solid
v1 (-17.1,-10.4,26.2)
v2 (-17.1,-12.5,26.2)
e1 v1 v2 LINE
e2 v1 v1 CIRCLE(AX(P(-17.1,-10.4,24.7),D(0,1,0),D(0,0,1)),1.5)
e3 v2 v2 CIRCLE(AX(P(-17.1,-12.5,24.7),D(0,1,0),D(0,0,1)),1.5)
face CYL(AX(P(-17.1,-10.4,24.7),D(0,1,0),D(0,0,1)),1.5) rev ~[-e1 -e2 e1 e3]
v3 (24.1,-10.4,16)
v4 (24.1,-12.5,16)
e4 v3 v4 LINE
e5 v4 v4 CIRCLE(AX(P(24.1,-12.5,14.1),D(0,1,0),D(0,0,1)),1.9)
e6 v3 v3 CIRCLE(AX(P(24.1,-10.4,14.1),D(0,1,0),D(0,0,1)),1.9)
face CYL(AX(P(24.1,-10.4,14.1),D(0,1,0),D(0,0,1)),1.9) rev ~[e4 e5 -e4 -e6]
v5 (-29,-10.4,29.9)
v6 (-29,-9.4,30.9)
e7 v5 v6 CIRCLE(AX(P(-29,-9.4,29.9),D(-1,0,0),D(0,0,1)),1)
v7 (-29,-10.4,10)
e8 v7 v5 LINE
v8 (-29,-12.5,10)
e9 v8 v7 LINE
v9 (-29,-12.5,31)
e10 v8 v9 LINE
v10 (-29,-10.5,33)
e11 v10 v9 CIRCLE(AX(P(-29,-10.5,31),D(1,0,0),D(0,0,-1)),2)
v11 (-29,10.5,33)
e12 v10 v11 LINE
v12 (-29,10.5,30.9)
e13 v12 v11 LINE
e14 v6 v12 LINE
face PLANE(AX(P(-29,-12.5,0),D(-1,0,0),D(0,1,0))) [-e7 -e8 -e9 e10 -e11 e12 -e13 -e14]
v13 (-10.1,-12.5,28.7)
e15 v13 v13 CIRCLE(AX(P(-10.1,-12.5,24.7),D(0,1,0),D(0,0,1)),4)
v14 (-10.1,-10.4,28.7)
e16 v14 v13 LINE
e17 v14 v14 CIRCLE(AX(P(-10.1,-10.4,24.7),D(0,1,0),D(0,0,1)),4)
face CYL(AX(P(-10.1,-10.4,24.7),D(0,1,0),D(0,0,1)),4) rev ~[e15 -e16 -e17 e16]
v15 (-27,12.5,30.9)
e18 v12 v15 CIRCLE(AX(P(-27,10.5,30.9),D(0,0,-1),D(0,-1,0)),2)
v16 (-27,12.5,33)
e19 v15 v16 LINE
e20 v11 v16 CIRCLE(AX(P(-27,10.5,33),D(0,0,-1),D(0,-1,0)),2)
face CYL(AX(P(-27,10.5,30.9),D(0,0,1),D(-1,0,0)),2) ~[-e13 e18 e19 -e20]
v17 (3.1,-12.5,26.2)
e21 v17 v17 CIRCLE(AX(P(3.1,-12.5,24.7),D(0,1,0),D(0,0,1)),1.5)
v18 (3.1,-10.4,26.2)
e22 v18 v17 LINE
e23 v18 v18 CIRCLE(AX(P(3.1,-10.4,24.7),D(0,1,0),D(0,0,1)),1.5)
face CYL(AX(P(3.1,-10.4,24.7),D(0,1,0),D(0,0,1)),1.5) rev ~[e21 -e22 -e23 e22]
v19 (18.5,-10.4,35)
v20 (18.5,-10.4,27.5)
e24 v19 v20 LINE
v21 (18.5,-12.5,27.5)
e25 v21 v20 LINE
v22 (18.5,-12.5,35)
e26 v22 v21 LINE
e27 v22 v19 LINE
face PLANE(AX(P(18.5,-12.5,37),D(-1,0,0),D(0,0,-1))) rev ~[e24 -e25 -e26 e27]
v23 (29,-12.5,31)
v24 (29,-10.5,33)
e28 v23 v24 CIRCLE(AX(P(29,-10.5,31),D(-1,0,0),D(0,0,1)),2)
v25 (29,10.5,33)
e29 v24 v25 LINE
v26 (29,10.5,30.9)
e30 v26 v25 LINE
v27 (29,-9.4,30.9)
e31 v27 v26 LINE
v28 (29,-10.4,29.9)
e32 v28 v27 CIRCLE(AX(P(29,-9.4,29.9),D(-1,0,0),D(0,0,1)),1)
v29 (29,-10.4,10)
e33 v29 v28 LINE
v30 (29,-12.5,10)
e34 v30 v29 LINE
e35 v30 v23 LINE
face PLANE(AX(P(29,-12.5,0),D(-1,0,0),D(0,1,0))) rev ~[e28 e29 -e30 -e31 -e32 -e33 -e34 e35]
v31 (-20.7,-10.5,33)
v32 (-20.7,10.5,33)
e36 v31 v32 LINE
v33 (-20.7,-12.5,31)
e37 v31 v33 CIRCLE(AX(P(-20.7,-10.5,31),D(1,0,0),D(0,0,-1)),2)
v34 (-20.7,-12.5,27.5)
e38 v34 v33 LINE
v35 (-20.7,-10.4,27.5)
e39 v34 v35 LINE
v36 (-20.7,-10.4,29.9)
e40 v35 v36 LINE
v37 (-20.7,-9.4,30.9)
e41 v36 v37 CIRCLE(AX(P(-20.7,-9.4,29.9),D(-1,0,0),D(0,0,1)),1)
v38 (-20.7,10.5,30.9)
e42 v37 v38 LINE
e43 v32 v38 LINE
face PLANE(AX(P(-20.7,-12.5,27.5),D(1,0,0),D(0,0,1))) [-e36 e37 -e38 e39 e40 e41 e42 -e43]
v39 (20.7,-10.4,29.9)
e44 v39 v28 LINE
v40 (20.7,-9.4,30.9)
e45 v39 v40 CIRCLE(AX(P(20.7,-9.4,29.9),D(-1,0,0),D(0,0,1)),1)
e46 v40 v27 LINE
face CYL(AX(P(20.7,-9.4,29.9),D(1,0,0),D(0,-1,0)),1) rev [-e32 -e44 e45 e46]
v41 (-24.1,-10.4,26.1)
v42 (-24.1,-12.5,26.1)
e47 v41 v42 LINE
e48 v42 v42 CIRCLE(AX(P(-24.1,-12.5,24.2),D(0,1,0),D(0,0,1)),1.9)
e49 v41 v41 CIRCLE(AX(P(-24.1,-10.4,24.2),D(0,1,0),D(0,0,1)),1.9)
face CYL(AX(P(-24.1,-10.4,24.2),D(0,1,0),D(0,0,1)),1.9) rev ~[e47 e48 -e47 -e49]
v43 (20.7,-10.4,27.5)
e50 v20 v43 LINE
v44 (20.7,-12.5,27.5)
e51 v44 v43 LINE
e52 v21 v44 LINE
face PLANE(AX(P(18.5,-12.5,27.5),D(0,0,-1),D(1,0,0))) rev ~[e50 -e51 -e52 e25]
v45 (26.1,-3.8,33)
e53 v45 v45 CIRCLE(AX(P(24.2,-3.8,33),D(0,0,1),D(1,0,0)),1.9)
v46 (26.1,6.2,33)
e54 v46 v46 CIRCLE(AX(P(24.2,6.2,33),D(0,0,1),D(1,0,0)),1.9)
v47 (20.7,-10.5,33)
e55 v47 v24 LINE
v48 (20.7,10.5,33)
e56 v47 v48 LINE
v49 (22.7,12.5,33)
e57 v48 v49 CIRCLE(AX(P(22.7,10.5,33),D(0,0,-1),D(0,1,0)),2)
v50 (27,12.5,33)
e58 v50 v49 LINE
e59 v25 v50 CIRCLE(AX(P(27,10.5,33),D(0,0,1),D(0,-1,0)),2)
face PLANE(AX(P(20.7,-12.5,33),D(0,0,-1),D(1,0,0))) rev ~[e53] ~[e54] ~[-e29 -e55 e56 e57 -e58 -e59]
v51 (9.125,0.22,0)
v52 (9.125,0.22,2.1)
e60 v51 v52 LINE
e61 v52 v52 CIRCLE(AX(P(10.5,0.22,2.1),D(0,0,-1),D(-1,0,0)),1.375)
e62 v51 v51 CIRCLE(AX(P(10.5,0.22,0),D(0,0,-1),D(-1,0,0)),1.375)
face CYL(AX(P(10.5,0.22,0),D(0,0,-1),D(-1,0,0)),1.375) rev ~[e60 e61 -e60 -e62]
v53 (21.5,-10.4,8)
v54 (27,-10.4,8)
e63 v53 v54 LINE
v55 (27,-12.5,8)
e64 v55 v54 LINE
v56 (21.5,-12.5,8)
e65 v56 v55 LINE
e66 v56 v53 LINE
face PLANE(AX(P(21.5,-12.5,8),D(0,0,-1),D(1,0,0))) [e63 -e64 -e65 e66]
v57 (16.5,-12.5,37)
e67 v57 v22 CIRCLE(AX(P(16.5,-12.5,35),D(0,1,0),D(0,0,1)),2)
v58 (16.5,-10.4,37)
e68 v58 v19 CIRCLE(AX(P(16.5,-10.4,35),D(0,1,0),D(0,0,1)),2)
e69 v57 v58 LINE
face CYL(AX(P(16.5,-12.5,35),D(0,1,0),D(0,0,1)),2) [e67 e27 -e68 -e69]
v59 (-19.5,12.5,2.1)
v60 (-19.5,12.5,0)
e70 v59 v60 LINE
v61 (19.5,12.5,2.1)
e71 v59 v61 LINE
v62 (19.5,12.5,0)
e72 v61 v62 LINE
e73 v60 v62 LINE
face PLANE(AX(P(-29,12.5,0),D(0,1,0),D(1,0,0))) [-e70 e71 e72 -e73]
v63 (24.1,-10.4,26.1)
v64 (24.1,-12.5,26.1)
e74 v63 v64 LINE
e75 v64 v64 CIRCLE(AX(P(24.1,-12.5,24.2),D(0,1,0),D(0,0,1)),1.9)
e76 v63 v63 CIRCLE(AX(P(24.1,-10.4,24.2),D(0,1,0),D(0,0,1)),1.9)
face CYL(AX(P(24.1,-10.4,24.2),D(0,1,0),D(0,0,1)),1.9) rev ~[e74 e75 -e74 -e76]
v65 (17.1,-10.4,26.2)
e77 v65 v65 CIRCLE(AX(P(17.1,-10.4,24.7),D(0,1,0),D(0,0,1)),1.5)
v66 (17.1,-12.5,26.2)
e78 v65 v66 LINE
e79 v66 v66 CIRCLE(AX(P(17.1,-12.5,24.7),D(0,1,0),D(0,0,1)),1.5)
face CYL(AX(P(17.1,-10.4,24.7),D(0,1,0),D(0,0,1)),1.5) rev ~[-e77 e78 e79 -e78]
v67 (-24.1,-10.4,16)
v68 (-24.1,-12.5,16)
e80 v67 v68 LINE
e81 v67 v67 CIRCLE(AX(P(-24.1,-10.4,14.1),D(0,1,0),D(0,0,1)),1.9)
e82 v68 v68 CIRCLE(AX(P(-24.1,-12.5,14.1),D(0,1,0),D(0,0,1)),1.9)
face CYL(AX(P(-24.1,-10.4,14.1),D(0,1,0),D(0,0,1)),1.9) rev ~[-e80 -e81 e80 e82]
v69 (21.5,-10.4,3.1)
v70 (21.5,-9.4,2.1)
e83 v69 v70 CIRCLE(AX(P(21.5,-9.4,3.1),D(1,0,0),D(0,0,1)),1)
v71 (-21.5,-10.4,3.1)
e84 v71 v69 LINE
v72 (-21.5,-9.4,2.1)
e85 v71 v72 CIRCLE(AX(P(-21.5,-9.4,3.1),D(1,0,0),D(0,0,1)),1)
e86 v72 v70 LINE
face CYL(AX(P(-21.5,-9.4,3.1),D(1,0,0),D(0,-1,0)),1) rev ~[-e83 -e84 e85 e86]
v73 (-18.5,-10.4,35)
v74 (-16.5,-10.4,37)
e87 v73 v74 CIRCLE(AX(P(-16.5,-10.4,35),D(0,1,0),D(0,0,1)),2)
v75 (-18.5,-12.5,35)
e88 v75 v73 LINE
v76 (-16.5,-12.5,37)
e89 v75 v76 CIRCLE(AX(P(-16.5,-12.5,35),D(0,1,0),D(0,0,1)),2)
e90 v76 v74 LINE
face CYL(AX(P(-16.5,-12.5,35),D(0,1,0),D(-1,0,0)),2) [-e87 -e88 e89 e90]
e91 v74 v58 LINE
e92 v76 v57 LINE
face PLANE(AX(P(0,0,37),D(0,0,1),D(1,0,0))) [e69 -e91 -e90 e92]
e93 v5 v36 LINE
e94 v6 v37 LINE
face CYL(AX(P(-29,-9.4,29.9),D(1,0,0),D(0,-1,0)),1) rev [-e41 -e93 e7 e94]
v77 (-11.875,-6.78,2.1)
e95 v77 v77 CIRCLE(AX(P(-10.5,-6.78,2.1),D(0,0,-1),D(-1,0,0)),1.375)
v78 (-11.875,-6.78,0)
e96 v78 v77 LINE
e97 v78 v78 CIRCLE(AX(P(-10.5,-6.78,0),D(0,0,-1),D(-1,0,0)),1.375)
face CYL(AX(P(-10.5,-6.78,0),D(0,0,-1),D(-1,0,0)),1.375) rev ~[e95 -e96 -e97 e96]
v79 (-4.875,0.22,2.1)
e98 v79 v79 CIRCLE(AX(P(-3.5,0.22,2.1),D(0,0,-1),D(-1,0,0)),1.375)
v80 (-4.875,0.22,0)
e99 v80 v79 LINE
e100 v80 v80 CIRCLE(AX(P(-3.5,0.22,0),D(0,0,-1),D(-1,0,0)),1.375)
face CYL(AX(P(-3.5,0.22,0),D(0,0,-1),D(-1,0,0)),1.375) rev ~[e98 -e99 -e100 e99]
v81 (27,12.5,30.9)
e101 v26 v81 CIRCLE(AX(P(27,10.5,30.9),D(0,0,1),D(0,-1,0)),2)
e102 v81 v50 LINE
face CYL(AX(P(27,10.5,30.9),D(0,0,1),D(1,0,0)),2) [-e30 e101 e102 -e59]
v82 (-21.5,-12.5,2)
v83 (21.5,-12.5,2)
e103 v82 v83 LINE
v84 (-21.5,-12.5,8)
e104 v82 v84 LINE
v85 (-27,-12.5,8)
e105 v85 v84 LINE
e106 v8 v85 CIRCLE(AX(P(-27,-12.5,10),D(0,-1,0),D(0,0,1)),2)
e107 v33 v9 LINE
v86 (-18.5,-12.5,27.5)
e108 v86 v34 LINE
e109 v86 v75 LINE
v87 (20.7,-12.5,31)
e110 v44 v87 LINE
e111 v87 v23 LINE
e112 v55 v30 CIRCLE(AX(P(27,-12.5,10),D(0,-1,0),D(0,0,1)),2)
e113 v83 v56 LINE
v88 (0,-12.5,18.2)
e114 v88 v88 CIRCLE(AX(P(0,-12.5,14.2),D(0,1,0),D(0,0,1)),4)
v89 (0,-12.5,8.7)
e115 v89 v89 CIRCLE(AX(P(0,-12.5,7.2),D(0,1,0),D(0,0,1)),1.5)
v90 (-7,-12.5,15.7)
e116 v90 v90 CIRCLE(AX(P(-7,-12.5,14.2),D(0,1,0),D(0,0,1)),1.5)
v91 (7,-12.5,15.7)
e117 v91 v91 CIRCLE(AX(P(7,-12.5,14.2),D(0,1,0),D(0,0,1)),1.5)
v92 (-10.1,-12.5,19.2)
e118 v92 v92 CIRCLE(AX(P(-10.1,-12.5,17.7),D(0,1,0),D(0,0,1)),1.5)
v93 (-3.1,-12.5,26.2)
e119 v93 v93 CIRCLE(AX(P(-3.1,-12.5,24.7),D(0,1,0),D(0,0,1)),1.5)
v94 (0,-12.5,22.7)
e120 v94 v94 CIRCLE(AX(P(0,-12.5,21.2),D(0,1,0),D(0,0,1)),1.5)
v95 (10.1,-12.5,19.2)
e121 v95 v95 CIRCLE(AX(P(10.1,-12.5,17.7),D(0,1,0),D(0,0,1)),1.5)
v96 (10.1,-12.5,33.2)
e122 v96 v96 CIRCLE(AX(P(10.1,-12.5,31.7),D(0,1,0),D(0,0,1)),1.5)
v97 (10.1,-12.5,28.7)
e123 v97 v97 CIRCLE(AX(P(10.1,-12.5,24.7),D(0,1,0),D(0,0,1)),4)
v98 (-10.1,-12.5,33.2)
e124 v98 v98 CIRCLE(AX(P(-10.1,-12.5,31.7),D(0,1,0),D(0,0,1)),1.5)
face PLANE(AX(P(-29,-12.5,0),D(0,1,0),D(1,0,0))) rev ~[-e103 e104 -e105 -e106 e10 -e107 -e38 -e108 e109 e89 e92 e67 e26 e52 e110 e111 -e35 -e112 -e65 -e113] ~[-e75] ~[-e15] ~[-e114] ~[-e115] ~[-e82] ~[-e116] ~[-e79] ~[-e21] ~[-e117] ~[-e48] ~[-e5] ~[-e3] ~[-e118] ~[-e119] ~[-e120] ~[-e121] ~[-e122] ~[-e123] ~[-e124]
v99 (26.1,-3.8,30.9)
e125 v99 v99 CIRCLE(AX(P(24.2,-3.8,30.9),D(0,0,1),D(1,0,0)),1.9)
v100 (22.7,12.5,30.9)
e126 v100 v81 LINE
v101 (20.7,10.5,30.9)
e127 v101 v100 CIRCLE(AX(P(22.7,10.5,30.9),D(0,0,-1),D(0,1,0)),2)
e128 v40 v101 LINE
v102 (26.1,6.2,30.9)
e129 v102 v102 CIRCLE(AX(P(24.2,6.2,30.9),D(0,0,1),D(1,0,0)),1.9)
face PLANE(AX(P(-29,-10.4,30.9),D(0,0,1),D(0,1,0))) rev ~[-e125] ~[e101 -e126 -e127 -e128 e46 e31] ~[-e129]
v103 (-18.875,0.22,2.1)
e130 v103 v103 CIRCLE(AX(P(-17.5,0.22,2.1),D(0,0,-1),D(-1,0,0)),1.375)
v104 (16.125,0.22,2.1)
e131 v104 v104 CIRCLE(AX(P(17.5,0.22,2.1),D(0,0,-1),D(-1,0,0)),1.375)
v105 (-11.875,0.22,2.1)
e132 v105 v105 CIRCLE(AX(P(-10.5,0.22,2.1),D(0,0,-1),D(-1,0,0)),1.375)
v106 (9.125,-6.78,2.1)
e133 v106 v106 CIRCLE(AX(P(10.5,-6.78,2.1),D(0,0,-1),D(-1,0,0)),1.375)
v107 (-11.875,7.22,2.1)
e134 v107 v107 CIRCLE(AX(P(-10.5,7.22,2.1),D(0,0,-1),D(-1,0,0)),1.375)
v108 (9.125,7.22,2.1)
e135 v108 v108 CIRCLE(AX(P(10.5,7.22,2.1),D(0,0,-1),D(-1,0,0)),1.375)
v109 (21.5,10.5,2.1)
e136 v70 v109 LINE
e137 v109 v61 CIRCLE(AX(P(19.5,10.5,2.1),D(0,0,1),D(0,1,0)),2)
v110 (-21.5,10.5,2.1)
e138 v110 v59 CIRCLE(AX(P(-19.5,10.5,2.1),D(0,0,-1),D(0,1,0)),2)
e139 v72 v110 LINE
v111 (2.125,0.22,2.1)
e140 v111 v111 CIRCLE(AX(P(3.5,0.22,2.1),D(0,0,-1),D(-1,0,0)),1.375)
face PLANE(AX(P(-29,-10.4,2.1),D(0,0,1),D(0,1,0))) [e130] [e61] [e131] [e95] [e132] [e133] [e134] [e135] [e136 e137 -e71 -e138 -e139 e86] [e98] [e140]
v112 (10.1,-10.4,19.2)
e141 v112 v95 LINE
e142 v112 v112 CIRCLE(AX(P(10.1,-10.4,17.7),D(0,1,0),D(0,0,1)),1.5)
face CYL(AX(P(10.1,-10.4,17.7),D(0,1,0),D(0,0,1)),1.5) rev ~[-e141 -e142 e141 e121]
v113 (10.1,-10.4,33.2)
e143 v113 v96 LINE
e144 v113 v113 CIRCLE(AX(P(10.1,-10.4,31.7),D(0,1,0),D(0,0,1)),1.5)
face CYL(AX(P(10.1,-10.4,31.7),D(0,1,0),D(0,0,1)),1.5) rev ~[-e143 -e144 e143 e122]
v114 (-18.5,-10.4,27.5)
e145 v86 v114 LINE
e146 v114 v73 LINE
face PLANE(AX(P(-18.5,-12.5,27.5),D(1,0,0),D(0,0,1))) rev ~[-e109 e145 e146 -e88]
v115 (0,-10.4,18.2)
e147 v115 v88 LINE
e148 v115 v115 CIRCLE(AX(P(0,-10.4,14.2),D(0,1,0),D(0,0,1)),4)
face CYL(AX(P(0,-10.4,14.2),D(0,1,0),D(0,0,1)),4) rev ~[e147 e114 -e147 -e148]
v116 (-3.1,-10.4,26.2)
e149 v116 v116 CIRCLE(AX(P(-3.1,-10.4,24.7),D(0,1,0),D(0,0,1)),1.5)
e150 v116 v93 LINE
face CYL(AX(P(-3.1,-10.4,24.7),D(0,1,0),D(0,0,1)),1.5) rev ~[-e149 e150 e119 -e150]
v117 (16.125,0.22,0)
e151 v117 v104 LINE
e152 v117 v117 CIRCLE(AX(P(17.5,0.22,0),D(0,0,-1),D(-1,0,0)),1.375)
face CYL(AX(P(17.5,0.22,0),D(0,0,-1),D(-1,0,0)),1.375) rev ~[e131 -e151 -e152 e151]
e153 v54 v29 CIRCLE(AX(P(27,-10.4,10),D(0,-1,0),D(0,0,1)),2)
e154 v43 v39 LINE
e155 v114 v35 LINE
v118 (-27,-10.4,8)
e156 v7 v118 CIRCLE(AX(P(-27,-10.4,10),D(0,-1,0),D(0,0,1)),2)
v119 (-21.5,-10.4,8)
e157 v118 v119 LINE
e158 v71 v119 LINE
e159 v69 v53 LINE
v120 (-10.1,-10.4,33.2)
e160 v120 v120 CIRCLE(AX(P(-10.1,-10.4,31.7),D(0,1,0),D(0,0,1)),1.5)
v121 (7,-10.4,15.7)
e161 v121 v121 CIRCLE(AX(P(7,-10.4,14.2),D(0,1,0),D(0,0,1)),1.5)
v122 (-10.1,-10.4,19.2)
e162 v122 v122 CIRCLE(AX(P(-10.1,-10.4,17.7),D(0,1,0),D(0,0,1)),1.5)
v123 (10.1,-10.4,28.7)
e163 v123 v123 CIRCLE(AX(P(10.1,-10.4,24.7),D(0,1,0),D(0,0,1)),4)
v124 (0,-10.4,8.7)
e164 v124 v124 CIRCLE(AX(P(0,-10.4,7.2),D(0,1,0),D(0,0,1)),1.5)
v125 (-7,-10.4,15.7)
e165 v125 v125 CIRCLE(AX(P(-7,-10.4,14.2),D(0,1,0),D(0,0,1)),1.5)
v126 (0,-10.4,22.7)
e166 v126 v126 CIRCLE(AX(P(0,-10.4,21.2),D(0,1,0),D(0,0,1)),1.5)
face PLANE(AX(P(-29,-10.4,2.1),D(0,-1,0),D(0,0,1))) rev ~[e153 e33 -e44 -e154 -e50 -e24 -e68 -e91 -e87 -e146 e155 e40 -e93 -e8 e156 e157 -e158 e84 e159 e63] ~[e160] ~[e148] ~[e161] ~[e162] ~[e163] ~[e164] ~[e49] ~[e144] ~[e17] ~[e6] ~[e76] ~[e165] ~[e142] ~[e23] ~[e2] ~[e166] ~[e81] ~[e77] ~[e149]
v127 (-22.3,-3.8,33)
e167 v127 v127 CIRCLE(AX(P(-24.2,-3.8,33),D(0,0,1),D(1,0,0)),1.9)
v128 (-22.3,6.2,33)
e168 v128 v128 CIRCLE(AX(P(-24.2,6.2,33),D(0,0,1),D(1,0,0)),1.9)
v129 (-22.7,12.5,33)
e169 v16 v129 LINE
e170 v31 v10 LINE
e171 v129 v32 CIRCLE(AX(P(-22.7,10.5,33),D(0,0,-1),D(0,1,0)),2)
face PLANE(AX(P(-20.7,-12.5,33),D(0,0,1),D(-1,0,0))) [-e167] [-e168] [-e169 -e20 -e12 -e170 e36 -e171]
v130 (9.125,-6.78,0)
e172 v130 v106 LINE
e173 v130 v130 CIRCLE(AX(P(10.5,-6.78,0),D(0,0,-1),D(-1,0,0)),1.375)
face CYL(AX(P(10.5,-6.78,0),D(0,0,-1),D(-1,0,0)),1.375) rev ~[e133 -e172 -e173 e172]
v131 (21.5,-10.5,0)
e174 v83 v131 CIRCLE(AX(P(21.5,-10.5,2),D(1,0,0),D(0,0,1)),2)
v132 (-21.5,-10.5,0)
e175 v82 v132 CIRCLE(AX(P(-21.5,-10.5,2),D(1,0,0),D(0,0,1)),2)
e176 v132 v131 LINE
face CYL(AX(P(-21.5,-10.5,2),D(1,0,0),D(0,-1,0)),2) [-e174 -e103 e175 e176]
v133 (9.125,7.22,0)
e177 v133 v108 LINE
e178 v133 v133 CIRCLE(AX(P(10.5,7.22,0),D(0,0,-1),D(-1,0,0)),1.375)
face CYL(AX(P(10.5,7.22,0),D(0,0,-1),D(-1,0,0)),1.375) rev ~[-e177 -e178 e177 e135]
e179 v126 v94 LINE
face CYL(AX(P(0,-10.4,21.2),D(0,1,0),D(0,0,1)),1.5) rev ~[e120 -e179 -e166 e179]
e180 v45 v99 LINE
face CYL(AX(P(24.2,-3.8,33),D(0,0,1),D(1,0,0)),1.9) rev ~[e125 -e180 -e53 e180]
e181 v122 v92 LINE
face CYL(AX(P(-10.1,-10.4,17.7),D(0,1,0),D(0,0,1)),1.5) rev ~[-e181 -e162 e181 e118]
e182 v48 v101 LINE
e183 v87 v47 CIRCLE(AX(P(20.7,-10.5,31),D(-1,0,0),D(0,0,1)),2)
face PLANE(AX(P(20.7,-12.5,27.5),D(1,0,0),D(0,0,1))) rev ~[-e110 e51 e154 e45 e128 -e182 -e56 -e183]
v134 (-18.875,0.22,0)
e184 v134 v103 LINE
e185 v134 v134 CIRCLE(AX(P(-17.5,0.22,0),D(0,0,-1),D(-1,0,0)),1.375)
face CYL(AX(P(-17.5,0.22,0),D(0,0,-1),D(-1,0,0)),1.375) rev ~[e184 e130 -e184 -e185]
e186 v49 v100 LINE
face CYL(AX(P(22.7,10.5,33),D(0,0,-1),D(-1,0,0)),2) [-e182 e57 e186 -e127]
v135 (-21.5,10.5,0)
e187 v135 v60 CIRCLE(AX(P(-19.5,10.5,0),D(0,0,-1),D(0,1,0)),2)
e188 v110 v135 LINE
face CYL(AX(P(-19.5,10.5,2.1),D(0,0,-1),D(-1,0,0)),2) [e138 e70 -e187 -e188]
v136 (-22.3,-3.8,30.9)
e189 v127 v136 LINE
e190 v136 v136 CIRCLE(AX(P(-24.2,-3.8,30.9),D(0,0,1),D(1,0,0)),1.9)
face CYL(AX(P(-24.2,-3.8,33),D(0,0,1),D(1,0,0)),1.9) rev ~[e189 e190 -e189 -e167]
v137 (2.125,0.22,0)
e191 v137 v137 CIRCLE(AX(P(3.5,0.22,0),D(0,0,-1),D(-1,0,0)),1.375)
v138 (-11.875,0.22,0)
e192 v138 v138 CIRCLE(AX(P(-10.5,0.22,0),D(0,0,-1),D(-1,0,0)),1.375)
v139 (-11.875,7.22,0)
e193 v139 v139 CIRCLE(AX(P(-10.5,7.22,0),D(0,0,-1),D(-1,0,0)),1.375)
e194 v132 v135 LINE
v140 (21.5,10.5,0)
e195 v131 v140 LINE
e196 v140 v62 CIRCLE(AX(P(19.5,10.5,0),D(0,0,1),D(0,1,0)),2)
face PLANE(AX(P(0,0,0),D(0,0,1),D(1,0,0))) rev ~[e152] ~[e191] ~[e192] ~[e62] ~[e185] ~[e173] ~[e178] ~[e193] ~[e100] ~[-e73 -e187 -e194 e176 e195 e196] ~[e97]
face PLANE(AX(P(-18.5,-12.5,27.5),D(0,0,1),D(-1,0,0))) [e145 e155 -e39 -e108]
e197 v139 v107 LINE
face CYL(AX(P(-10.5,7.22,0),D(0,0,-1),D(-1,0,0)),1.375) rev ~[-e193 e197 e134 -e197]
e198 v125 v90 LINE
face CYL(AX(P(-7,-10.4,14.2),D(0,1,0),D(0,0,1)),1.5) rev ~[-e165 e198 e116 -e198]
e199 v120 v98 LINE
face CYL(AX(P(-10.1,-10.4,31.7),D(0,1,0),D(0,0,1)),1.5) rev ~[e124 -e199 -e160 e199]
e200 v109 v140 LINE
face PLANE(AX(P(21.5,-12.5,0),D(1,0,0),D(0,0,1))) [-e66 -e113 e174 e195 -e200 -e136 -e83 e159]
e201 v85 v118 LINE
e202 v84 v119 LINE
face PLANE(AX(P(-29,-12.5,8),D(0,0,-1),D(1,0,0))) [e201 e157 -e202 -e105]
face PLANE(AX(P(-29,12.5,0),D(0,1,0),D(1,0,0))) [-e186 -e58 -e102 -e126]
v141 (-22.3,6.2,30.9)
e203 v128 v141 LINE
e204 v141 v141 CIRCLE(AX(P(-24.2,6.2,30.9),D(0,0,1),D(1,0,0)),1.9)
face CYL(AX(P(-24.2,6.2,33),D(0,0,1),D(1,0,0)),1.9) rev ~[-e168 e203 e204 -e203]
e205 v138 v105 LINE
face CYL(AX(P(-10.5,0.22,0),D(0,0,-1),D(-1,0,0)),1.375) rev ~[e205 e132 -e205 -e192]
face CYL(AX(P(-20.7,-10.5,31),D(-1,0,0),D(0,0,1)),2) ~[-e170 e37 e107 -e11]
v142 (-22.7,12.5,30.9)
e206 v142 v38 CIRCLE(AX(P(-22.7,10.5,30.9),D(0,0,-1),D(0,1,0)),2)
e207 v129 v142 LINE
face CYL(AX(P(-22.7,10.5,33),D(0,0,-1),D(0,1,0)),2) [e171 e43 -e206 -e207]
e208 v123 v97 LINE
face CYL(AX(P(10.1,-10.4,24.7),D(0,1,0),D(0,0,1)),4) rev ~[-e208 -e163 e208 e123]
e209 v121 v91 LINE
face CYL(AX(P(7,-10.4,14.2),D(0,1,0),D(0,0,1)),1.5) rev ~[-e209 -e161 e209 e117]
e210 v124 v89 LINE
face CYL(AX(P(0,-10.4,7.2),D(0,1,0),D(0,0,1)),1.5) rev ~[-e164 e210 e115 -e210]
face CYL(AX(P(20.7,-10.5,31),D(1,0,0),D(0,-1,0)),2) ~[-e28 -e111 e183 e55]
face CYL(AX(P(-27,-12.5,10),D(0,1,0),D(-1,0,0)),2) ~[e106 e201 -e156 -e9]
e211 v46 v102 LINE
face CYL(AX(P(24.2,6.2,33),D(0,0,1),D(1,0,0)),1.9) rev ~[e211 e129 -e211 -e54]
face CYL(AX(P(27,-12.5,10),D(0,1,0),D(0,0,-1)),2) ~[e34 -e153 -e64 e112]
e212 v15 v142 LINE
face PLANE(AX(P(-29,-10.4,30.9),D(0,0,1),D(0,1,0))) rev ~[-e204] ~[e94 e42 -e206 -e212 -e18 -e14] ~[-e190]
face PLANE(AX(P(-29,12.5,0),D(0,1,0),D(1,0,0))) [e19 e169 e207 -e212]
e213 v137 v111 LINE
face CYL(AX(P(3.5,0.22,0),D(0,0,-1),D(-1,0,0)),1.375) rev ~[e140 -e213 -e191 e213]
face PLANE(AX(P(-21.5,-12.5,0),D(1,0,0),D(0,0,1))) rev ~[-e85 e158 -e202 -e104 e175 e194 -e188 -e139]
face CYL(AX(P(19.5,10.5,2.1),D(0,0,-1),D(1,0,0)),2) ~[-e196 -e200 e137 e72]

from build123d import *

# Parameters (mm, degrees)
SKETCH1_W           = 58
SKETCH1_H           = 25
BOSS_EXTRUDE1_DEPTH = 37
SKETCH2_W           = 28.8
SKETCH2_H           = 22.9
CUT_EXTRUDE1_DEPTH  = 70.923172125
CUT_EXTRUDE2_REACH  = 50.644
SKETCH3_W           = 40.6
SKETCH3_H           = 22.9
SKETCH4_W           = 7.5
SKETCH4_H           = 8
CUT_EXTRUDE3_DEPTH  = 54.244718048
CUT_EXTRUDE4_DEPTH  = 54.244718048
SKETCH8_R           = 4
SKETCH8_R_2         = 1.5
SKETCH8_R_3         = 1.9
CUT_EXTRUDE5_DEPTH  = 53.291586321
CUT_EXTRUDE6_REACH  = 47.675
SKETCH9_R           = 1.9
CUT_EXTRUDE7_REACH  = 50.644
SKETCH10_R          = 1.375
FILLET1_R           = 2
FILLET2_R           = 1


with BuildPart() as part:
    # Sketch1 → Boss-Extrude1 (new body)
    with BuildSketch(Plane.XY):
        Rectangle(SKETCH1_W, SKETCH1_H)
    extrude(amount=BOSS_EXTRUDE1_DEPTH)

    # Sketch2 → Cut-Extrude1 (cut, through all)
    with BuildSketch(Plane.ZY.offset(29)):
        with Locations((16.5, 1.05)):
            Rectangle(SKETCH2_W, SKETCH2_H)
    extrude(amount=-CUT_EXTRUDE1_DEPTH, mode=Mode.SUBTRACT)

    # Sketch3 → Cut-Extrude2 (cut, up to next)
    with BuildSketch(Plane.XY.offset(37), mode=Mode.PRIVATE) as cut_extrude2_sk1:
        with Locations((0, 1.05)):
            Rectangle(SKETCH3_W, SKETCH3_H)
    cut_extrude2_tool1 = extrude(cut_extrude2_sk1.sketch, amount=-CUT_EXTRUDE2_REACH, mode=Mode.PRIVATE) & part.part
    add(cut_extrude2_tool1.solids().sort_by_distance((0, 1.05, 37))[0], mode=Mode.SUBTRACT)

    # Sketch4 → Cut-Extrude3 (cut, through all)
    with BuildSketch(Plane.XZ.offset(12.5)):
        with Locations((-25.25, 4)):
            Rectangle(SKETCH4_W, SKETCH4_H)
        with Locations((25.25, 4)):
            Rectangle(SKETCH4_W, SKETCH4_H)
    extrude(amount=-CUT_EXTRUDE3_DEPTH, mode=Mode.SUBTRACT)

    # Sketch7 → Cut-Extrude4 (cut, through all)
    with BuildSketch(Plane.XZ.offset(12.5)):
        Polygon((-29, 37), (-18.5, 37), (-18.5, 33), (-18.5, 27.5), (-20.7, 27.5), (-20.7, 33), (-29, 33), align=None)
        Polygon((29, 37), (18.5, 37), (18.5, 33), (18.5, 27.5), (20.7, 27.5), (20.7, 33), (29, 33), align=None)
    extrude(amount=-CUT_EXTRUDE4_DEPTH, mode=Mode.SUBTRACT)

    # Sketch8 → Cut-Extrude5 (cut, through all)
    with BuildSketch(Plane(origin=(0, -10.4, 0), x_dir=(-1, 0, 0), z_dir=(0, 1, 0))):
        with Locations(Location((0, 14.2, 0), (0, 0, 90))):
            Circle(SKETCH8_R)
        with Locations(Location((7, 14.2, 0), (0, 0, 90))):
            Circle(SKETCH8_R_2)
        with Locations(Location((-7, 14.2, 0), (0, 0, 90))):
            Circle(SKETCH8_R_2)
        with Locations(Location((0, 7.2, 0), (0, 0, 90))):
            Circle(SKETCH8_R_2)
        with Locations(Location((0, 21.2, 0), (0, 0, 90))):
            Circle(SKETCH8_R_2)
        with Locations(Location((10.1, 24.7, 0), (0, 0, 90))):
            Circle(SKETCH8_R)
        with Locations(Location((17.1, 24.7, 0), (0, 0, 90))):
            Circle(SKETCH8_R_2)
        with Locations(Location((3.1, 24.7, 0), (0, 0, 90))):
            Circle(SKETCH8_R_2)
        with Locations(Location((10.1, 17.7, 0), (0, 0, 90))):
            Circle(SKETCH8_R_2)
        with Locations(Location((10.1, 31.7, 0), (0, 0, 90))):
            Circle(SKETCH8_R_2)
        with Locations(Location((-10.1, 24.7, 0), (0, 0, 90))):
            Circle(SKETCH8_R)
        with Locations(Location((-3.1, 24.7, 0), (0, 0, 90))):
            Circle(SKETCH8_R_2)
        with Locations(Location((-17.1, 24.7, 0), (0, 0, 90))):
            Circle(SKETCH8_R_2)
        with Locations(Location((-10.1, 17.7, 0), (0, 0, 90))):
            Circle(SKETCH8_R_2)
        with Locations(Location((-10.1, 31.7, 0), (0, 0, 90))):
            Circle(SKETCH8_R_2)
        with Locations(Location((24.1, 24.2, 0), (0, 0, 90))):
            Circle(SKETCH8_R_3)
        with Locations(Location((24.1, 14.1, 0), (0, 0, 90))):
            Circle(SKETCH8_R_3)
        with Locations(Location((-24.1, 14.1, 0), (0, 0, 90))):
            Circle(SKETCH8_R_3)
        with Locations(Location((-24.1, 24.2, 0), (0, 0, 90))):
            Circle(SKETCH8_R_3)
    extrude(amount=-CUT_EXTRUDE5_DEPTH, mode=Mode.SUBTRACT)

    # Sketch9 → Cut-Extrude6 (cut, up to next)
    with BuildSketch(Plane.XY.offset(33), mode=Mode.PRIVATE) as cut_extrude6_sk1:
        with Locations((-24.2, 6.2)):
            Circle(SKETCH9_R)
    cut_extrude6_tool1 = extrude(cut_extrude6_sk1.sketch, amount=-CUT_EXTRUDE6_REACH, mode=Mode.PRIVATE) & part.part
    # Sketch9 → Cut-Extrude6 (cut, up to next)
    with BuildSketch(Plane.XY.offset(33), mode=Mode.PRIVATE) as cut_extrude6_sk2:
        with Locations((-24.2, -3.8)):
            Circle(SKETCH9_R)
    cut_extrude6_tool2 = extrude(cut_extrude6_sk2.sketch, amount=-CUT_EXTRUDE6_REACH, mode=Mode.PRIVATE) & part.part
    # Sketch9 → Cut-Extrude6 (cut, up to next)
    with BuildSketch(Plane.XY.offset(33), mode=Mode.PRIVATE) as cut_extrude6_sk3:
        with Locations((24.2, 6.2)):
            Circle(SKETCH9_R)
    cut_extrude6_tool3 = extrude(cut_extrude6_sk3.sketch, amount=-CUT_EXTRUDE6_REACH, mode=Mode.PRIVATE) & part.part
    # Sketch9 → Cut-Extrude6 (cut, up to next)
    with BuildSketch(Plane.XY.offset(33), mode=Mode.PRIVATE) as cut_extrude6_sk4:
        with Locations((24.2, -3.8)):
            Circle(SKETCH9_R)
    cut_extrude6_tool4 = extrude(cut_extrude6_sk4.sketch, amount=-CUT_EXTRUDE6_REACH, mode=Mode.PRIVATE) & part.part
    add(cut_extrude6_tool1.solids().sort_by_distance((-24.2, 6.2, 33))[0], mode=Mode.SUBTRACT)
    add(cut_extrude6_tool2.solids().sort_by_distance((-24.2, -3.8, 33))[0], mode=Mode.SUBTRACT)
    add(cut_extrude6_tool3.solids().sort_by_distance((24.2, 6.2, 33))[0], mode=Mode.SUBTRACT)
    add(cut_extrude6_tool4.solids().sort_by_distance((24.2, -3.8, 33))[0], mode=Mode.SUBTRACT)

    # Sketch10 → Cut-Extrude7 (cut, up to next)
    with BuildSketch(Plane(origin=(0, 0, 0), x_dir=(-1, 0, 0), z_dir=(0, 0, -1)), mode=Mode.PRIVATE) as cut_extrude7_sk1:
        with Locations((-17.5, 0.22)):
            Circle(SKETCH10_R)
    cut_extrude7_tool1 = extrude(cut_extrude7_sk1.sketch, amount=-CUT_EXTRUDE7_REACH, mode=Mode.PRIVATE) & part.part
    # Sketch10 → Cut-Extrude7 (cut, up to next)
    with BuildSketch(Plane(origin=(0, 0, 0), x_dir=(-1, 0, 0), z_dir=(0, 0, -1)), mode=Mode.PRIVATE) as cut_extrude7_sk2:
        with Locations((-10.5, 0.22)):
            Circle(SKETCH10_R)
    cut_extrude7_tool2 = extrude(cut_extrude7_sk2.sketch, amount=-CUT_EXTRUDE7_REACH, mode=Mode.PRIVATE) & part.part
    # Sketch10 → Cut-Extrude7 (cut, up to next)
    with BuildSketch(Plane(origin=(0, 0, 0), x_dir=(-1, 0, 0), z_dir=(0, 0, -1)), mode=Mode.PRIVATE) as cut_extrude7_sk3:
        with Locations((-3.5, 0.22)):
            Circle(SKETCH10_R)
    cut_extrude7_tool3 = extrude(cut_extrude7_sk3.sketch, amount=-CUT_EXTRUDE7_REACH, mode=Mode.PRIVATE) & part.part
    # Sketch10 → Cut-Extrude7 (cut, up to next)
    with BuildSketch(Plane(origin=(0, 0, 0), x_dir=(-1, 0, 0), z_dir=(0, 0, -1)), mode=Mode.PRIVATE) as cut_extrude7_sk4:
        with Locations((3.5, 0.22)):
            Circle(SKETCH10_R)
    cut_extrude7_tool4 = extrude(cut_extrude7_sk4.sketch, amount=-CUT_EXTRUDE7_REACH, mode=Mode.PRIVATE) & part.part
    # Sketch10 → Cut-Extrude7 (cut, up to next)
    with BuildSketch(Plane(origin=(0, 0, 0), x_dir=(-1, 0, 0), z_dir=(0, 0, -1)), mode=Mode.PRIVATE) as cut_extrude7_sk5:
        with Locations((10.5, 0.22)):
            Circle(SKETCH10_R)
    cut_extrude7_tool5 = extrude(cut_extrude7_sk5.sketch, amount=-CUT_EXTRUDE7_REACH, mode=Mode.PRIVATE) & part.part
    # Sketch10 → Cut-Extrude7 (cut, up to next)
    with BuildSketch(Plane(origin=(0, 0, 0), x_dir=(-1, 0, 0), z_dir=(0, 0, -1)), mode=Mode.PRIVATE) as cut_extrude7_sk6:
        with Locations((17.5, 0.22)):
            Circle(SKETCH10_R)
    cut_extrude7_tool6 = extrude(cut_extrude7_sk6.sketch, amount=-CUT_EXTRUDE7_REACH, mode=Mode.PRIVATE) & part.part
    # Sketch10 → Cut-Extrude7 (cut, up to next)
    with BuildSketch(Plane(origin=(0, 0, 0), x_dir=(-1, 0, 0), z_dir=(0, 0, -1)), mode=Mode.PRIVATE) as cut_extrude7_sk7:
        with Locations((-10.5, 7.22)):
            Circle(SKETCH10_R)
    cut_extrude7_tool7 = extrude(cut_extrude7_sk7.sketch, amount=-CUT_EXTRUDE7_REACH, mode=Mode.PRIVATE) & part.part
    # Sketch10 → Cut-Extrude7 (cut, up to next)
    with BuildSketch(Plane(origin=(0, 0, 0), x_dir=(-1, 0, 0), z_dir=(0, 0, -1)), mode=Mode.PRIVATE) as cut_extrude7_sk8:
        with Locations((10.5, 7.22)):
            Circle(SKETCH10_R)
    cut_extrude7_tool8 = extrude(cut_extrude7_sk8.sketch, amount=-CUT_EXTRUDE7_REACH, mode=Mode.PRIVATE) & part.part
    # Sketch10 → Cut-Extrude7 (cut, up to next)
    with BuildSketch(Plane(origin=(0, 0, 0), x_dir=(-1, 0, 0), z_dir=(0, 0, -1)), mode=Mode.PRIVATE) as cut_extrude7_sk9:
        with Locations((-10.5, -6.78)):
            Circle(SKETCH10_R)
    cut_extrude7_tool9 = extrude(cut_extrude7_sk9.sketch, amount=-CUT_EXTRUDE7_REACH, mode=Mode.PRIVATE) & part.part
    # Sketch10 → Cut-Extrude7 (cut, up to next)
    with BuildSketch(Plane(origin=(0, 0, 0), x_dir=(-1, 0, 0), z_dir=(0, 0, -1)), mode=Mode.PRIVATE) as cut_extrude7_sk10:
        with Locations((10.5, -6.78)):
            Circle(SKETCH10_R)
    cut_extrude7_tool10 = extrude(cut_extrude7_sk10.sketch, amount=-CUT_EXTRUDE7_REACH, mode=Mode.PRIVATE) & part.part
    add(cut_extrude7_tool1.solids().sort_by_distance((17.5, 0.22, 0))[0], mode=Mode.SUBTRACT)
    add(cut_extrude7_tool2.solids().sort_by_distance((10.5, 0.22, 0))[0], mode=Mode.SUBTRACT)
    add(cut_extrude7_tool3.solids().sort_by_distance((3.5, 0.22, 0))[0], mode=Mode.SUBTRACT)
    add(cut_extrude7_tool4.solids().sort_by_distance((-3.5, 0.22, 0))[0], mode=Mode.SUBTRACT)
    add(cut_extrude7_tool5.solids().sort_by_distance((-10.5, 0.22, 0))[0], mode=Mode.SUBTRACT)
    add(cut_extrude7_tool6.solids().sort_by_distance((-17.5, 0.22, 0))[0], mode=Mode.SUBTRACT)
    add(cut_extrude7_tool7.solids().sort_by_distance((10.5, 7.22, 0))[0], mode=Mode.SUBTRACT)
    add(cut_extrude7_tool8.solids().sort_by_distance((-10.5, 7.22, 0))[0], mode=Mode.SUBTRACT)
    add(cut_extrude7_tool9.solids().sort_by_distance((10.5, -6.78, 0))[0], mode=Mode.SUBTRACT)
    add(cut_extrude7_tool10.solids().sort_by_distance((-10.5, -6.78, 0))[0], mode=Mode.SUBTRACT)

    # Fillet1
    fillet1_edges = [part.edges().sort_by_distance(p)[0] for p in [
        (-29, 12.5, 31.95),
        (29, 12.5, 31.95),
        (-18.5, -11.45, 37),
        (-20.7, 12.5, 31.95),
        (-24.85, -12.5, 33),
        (20.7, 12.5, 31.95),
        (18.5, -11.45, 37),
        (24.85, -12.5, 33),
        (0, -12.5, 0),
        (-29, -11.45, 8),
        (-21.5, 12.5, 1.05),
        (29, -11.45, 8),
        (21.5, 12.5, 1.05),
    ]]
    fillet(fillet1_edges, radius=FILLET1_R)

    # Fillet2
    fillet2_edges = [part.edges().sort_by_distance(p)[0] for p in [
        (-24.85, -10.4, 30.9),
        (24.85, -10.4, 30.9),
        (0, -10.4, 2.1),
    ]]
    fillet(fillet2_edges, radius=FILLET2_R)


solid = part.part
